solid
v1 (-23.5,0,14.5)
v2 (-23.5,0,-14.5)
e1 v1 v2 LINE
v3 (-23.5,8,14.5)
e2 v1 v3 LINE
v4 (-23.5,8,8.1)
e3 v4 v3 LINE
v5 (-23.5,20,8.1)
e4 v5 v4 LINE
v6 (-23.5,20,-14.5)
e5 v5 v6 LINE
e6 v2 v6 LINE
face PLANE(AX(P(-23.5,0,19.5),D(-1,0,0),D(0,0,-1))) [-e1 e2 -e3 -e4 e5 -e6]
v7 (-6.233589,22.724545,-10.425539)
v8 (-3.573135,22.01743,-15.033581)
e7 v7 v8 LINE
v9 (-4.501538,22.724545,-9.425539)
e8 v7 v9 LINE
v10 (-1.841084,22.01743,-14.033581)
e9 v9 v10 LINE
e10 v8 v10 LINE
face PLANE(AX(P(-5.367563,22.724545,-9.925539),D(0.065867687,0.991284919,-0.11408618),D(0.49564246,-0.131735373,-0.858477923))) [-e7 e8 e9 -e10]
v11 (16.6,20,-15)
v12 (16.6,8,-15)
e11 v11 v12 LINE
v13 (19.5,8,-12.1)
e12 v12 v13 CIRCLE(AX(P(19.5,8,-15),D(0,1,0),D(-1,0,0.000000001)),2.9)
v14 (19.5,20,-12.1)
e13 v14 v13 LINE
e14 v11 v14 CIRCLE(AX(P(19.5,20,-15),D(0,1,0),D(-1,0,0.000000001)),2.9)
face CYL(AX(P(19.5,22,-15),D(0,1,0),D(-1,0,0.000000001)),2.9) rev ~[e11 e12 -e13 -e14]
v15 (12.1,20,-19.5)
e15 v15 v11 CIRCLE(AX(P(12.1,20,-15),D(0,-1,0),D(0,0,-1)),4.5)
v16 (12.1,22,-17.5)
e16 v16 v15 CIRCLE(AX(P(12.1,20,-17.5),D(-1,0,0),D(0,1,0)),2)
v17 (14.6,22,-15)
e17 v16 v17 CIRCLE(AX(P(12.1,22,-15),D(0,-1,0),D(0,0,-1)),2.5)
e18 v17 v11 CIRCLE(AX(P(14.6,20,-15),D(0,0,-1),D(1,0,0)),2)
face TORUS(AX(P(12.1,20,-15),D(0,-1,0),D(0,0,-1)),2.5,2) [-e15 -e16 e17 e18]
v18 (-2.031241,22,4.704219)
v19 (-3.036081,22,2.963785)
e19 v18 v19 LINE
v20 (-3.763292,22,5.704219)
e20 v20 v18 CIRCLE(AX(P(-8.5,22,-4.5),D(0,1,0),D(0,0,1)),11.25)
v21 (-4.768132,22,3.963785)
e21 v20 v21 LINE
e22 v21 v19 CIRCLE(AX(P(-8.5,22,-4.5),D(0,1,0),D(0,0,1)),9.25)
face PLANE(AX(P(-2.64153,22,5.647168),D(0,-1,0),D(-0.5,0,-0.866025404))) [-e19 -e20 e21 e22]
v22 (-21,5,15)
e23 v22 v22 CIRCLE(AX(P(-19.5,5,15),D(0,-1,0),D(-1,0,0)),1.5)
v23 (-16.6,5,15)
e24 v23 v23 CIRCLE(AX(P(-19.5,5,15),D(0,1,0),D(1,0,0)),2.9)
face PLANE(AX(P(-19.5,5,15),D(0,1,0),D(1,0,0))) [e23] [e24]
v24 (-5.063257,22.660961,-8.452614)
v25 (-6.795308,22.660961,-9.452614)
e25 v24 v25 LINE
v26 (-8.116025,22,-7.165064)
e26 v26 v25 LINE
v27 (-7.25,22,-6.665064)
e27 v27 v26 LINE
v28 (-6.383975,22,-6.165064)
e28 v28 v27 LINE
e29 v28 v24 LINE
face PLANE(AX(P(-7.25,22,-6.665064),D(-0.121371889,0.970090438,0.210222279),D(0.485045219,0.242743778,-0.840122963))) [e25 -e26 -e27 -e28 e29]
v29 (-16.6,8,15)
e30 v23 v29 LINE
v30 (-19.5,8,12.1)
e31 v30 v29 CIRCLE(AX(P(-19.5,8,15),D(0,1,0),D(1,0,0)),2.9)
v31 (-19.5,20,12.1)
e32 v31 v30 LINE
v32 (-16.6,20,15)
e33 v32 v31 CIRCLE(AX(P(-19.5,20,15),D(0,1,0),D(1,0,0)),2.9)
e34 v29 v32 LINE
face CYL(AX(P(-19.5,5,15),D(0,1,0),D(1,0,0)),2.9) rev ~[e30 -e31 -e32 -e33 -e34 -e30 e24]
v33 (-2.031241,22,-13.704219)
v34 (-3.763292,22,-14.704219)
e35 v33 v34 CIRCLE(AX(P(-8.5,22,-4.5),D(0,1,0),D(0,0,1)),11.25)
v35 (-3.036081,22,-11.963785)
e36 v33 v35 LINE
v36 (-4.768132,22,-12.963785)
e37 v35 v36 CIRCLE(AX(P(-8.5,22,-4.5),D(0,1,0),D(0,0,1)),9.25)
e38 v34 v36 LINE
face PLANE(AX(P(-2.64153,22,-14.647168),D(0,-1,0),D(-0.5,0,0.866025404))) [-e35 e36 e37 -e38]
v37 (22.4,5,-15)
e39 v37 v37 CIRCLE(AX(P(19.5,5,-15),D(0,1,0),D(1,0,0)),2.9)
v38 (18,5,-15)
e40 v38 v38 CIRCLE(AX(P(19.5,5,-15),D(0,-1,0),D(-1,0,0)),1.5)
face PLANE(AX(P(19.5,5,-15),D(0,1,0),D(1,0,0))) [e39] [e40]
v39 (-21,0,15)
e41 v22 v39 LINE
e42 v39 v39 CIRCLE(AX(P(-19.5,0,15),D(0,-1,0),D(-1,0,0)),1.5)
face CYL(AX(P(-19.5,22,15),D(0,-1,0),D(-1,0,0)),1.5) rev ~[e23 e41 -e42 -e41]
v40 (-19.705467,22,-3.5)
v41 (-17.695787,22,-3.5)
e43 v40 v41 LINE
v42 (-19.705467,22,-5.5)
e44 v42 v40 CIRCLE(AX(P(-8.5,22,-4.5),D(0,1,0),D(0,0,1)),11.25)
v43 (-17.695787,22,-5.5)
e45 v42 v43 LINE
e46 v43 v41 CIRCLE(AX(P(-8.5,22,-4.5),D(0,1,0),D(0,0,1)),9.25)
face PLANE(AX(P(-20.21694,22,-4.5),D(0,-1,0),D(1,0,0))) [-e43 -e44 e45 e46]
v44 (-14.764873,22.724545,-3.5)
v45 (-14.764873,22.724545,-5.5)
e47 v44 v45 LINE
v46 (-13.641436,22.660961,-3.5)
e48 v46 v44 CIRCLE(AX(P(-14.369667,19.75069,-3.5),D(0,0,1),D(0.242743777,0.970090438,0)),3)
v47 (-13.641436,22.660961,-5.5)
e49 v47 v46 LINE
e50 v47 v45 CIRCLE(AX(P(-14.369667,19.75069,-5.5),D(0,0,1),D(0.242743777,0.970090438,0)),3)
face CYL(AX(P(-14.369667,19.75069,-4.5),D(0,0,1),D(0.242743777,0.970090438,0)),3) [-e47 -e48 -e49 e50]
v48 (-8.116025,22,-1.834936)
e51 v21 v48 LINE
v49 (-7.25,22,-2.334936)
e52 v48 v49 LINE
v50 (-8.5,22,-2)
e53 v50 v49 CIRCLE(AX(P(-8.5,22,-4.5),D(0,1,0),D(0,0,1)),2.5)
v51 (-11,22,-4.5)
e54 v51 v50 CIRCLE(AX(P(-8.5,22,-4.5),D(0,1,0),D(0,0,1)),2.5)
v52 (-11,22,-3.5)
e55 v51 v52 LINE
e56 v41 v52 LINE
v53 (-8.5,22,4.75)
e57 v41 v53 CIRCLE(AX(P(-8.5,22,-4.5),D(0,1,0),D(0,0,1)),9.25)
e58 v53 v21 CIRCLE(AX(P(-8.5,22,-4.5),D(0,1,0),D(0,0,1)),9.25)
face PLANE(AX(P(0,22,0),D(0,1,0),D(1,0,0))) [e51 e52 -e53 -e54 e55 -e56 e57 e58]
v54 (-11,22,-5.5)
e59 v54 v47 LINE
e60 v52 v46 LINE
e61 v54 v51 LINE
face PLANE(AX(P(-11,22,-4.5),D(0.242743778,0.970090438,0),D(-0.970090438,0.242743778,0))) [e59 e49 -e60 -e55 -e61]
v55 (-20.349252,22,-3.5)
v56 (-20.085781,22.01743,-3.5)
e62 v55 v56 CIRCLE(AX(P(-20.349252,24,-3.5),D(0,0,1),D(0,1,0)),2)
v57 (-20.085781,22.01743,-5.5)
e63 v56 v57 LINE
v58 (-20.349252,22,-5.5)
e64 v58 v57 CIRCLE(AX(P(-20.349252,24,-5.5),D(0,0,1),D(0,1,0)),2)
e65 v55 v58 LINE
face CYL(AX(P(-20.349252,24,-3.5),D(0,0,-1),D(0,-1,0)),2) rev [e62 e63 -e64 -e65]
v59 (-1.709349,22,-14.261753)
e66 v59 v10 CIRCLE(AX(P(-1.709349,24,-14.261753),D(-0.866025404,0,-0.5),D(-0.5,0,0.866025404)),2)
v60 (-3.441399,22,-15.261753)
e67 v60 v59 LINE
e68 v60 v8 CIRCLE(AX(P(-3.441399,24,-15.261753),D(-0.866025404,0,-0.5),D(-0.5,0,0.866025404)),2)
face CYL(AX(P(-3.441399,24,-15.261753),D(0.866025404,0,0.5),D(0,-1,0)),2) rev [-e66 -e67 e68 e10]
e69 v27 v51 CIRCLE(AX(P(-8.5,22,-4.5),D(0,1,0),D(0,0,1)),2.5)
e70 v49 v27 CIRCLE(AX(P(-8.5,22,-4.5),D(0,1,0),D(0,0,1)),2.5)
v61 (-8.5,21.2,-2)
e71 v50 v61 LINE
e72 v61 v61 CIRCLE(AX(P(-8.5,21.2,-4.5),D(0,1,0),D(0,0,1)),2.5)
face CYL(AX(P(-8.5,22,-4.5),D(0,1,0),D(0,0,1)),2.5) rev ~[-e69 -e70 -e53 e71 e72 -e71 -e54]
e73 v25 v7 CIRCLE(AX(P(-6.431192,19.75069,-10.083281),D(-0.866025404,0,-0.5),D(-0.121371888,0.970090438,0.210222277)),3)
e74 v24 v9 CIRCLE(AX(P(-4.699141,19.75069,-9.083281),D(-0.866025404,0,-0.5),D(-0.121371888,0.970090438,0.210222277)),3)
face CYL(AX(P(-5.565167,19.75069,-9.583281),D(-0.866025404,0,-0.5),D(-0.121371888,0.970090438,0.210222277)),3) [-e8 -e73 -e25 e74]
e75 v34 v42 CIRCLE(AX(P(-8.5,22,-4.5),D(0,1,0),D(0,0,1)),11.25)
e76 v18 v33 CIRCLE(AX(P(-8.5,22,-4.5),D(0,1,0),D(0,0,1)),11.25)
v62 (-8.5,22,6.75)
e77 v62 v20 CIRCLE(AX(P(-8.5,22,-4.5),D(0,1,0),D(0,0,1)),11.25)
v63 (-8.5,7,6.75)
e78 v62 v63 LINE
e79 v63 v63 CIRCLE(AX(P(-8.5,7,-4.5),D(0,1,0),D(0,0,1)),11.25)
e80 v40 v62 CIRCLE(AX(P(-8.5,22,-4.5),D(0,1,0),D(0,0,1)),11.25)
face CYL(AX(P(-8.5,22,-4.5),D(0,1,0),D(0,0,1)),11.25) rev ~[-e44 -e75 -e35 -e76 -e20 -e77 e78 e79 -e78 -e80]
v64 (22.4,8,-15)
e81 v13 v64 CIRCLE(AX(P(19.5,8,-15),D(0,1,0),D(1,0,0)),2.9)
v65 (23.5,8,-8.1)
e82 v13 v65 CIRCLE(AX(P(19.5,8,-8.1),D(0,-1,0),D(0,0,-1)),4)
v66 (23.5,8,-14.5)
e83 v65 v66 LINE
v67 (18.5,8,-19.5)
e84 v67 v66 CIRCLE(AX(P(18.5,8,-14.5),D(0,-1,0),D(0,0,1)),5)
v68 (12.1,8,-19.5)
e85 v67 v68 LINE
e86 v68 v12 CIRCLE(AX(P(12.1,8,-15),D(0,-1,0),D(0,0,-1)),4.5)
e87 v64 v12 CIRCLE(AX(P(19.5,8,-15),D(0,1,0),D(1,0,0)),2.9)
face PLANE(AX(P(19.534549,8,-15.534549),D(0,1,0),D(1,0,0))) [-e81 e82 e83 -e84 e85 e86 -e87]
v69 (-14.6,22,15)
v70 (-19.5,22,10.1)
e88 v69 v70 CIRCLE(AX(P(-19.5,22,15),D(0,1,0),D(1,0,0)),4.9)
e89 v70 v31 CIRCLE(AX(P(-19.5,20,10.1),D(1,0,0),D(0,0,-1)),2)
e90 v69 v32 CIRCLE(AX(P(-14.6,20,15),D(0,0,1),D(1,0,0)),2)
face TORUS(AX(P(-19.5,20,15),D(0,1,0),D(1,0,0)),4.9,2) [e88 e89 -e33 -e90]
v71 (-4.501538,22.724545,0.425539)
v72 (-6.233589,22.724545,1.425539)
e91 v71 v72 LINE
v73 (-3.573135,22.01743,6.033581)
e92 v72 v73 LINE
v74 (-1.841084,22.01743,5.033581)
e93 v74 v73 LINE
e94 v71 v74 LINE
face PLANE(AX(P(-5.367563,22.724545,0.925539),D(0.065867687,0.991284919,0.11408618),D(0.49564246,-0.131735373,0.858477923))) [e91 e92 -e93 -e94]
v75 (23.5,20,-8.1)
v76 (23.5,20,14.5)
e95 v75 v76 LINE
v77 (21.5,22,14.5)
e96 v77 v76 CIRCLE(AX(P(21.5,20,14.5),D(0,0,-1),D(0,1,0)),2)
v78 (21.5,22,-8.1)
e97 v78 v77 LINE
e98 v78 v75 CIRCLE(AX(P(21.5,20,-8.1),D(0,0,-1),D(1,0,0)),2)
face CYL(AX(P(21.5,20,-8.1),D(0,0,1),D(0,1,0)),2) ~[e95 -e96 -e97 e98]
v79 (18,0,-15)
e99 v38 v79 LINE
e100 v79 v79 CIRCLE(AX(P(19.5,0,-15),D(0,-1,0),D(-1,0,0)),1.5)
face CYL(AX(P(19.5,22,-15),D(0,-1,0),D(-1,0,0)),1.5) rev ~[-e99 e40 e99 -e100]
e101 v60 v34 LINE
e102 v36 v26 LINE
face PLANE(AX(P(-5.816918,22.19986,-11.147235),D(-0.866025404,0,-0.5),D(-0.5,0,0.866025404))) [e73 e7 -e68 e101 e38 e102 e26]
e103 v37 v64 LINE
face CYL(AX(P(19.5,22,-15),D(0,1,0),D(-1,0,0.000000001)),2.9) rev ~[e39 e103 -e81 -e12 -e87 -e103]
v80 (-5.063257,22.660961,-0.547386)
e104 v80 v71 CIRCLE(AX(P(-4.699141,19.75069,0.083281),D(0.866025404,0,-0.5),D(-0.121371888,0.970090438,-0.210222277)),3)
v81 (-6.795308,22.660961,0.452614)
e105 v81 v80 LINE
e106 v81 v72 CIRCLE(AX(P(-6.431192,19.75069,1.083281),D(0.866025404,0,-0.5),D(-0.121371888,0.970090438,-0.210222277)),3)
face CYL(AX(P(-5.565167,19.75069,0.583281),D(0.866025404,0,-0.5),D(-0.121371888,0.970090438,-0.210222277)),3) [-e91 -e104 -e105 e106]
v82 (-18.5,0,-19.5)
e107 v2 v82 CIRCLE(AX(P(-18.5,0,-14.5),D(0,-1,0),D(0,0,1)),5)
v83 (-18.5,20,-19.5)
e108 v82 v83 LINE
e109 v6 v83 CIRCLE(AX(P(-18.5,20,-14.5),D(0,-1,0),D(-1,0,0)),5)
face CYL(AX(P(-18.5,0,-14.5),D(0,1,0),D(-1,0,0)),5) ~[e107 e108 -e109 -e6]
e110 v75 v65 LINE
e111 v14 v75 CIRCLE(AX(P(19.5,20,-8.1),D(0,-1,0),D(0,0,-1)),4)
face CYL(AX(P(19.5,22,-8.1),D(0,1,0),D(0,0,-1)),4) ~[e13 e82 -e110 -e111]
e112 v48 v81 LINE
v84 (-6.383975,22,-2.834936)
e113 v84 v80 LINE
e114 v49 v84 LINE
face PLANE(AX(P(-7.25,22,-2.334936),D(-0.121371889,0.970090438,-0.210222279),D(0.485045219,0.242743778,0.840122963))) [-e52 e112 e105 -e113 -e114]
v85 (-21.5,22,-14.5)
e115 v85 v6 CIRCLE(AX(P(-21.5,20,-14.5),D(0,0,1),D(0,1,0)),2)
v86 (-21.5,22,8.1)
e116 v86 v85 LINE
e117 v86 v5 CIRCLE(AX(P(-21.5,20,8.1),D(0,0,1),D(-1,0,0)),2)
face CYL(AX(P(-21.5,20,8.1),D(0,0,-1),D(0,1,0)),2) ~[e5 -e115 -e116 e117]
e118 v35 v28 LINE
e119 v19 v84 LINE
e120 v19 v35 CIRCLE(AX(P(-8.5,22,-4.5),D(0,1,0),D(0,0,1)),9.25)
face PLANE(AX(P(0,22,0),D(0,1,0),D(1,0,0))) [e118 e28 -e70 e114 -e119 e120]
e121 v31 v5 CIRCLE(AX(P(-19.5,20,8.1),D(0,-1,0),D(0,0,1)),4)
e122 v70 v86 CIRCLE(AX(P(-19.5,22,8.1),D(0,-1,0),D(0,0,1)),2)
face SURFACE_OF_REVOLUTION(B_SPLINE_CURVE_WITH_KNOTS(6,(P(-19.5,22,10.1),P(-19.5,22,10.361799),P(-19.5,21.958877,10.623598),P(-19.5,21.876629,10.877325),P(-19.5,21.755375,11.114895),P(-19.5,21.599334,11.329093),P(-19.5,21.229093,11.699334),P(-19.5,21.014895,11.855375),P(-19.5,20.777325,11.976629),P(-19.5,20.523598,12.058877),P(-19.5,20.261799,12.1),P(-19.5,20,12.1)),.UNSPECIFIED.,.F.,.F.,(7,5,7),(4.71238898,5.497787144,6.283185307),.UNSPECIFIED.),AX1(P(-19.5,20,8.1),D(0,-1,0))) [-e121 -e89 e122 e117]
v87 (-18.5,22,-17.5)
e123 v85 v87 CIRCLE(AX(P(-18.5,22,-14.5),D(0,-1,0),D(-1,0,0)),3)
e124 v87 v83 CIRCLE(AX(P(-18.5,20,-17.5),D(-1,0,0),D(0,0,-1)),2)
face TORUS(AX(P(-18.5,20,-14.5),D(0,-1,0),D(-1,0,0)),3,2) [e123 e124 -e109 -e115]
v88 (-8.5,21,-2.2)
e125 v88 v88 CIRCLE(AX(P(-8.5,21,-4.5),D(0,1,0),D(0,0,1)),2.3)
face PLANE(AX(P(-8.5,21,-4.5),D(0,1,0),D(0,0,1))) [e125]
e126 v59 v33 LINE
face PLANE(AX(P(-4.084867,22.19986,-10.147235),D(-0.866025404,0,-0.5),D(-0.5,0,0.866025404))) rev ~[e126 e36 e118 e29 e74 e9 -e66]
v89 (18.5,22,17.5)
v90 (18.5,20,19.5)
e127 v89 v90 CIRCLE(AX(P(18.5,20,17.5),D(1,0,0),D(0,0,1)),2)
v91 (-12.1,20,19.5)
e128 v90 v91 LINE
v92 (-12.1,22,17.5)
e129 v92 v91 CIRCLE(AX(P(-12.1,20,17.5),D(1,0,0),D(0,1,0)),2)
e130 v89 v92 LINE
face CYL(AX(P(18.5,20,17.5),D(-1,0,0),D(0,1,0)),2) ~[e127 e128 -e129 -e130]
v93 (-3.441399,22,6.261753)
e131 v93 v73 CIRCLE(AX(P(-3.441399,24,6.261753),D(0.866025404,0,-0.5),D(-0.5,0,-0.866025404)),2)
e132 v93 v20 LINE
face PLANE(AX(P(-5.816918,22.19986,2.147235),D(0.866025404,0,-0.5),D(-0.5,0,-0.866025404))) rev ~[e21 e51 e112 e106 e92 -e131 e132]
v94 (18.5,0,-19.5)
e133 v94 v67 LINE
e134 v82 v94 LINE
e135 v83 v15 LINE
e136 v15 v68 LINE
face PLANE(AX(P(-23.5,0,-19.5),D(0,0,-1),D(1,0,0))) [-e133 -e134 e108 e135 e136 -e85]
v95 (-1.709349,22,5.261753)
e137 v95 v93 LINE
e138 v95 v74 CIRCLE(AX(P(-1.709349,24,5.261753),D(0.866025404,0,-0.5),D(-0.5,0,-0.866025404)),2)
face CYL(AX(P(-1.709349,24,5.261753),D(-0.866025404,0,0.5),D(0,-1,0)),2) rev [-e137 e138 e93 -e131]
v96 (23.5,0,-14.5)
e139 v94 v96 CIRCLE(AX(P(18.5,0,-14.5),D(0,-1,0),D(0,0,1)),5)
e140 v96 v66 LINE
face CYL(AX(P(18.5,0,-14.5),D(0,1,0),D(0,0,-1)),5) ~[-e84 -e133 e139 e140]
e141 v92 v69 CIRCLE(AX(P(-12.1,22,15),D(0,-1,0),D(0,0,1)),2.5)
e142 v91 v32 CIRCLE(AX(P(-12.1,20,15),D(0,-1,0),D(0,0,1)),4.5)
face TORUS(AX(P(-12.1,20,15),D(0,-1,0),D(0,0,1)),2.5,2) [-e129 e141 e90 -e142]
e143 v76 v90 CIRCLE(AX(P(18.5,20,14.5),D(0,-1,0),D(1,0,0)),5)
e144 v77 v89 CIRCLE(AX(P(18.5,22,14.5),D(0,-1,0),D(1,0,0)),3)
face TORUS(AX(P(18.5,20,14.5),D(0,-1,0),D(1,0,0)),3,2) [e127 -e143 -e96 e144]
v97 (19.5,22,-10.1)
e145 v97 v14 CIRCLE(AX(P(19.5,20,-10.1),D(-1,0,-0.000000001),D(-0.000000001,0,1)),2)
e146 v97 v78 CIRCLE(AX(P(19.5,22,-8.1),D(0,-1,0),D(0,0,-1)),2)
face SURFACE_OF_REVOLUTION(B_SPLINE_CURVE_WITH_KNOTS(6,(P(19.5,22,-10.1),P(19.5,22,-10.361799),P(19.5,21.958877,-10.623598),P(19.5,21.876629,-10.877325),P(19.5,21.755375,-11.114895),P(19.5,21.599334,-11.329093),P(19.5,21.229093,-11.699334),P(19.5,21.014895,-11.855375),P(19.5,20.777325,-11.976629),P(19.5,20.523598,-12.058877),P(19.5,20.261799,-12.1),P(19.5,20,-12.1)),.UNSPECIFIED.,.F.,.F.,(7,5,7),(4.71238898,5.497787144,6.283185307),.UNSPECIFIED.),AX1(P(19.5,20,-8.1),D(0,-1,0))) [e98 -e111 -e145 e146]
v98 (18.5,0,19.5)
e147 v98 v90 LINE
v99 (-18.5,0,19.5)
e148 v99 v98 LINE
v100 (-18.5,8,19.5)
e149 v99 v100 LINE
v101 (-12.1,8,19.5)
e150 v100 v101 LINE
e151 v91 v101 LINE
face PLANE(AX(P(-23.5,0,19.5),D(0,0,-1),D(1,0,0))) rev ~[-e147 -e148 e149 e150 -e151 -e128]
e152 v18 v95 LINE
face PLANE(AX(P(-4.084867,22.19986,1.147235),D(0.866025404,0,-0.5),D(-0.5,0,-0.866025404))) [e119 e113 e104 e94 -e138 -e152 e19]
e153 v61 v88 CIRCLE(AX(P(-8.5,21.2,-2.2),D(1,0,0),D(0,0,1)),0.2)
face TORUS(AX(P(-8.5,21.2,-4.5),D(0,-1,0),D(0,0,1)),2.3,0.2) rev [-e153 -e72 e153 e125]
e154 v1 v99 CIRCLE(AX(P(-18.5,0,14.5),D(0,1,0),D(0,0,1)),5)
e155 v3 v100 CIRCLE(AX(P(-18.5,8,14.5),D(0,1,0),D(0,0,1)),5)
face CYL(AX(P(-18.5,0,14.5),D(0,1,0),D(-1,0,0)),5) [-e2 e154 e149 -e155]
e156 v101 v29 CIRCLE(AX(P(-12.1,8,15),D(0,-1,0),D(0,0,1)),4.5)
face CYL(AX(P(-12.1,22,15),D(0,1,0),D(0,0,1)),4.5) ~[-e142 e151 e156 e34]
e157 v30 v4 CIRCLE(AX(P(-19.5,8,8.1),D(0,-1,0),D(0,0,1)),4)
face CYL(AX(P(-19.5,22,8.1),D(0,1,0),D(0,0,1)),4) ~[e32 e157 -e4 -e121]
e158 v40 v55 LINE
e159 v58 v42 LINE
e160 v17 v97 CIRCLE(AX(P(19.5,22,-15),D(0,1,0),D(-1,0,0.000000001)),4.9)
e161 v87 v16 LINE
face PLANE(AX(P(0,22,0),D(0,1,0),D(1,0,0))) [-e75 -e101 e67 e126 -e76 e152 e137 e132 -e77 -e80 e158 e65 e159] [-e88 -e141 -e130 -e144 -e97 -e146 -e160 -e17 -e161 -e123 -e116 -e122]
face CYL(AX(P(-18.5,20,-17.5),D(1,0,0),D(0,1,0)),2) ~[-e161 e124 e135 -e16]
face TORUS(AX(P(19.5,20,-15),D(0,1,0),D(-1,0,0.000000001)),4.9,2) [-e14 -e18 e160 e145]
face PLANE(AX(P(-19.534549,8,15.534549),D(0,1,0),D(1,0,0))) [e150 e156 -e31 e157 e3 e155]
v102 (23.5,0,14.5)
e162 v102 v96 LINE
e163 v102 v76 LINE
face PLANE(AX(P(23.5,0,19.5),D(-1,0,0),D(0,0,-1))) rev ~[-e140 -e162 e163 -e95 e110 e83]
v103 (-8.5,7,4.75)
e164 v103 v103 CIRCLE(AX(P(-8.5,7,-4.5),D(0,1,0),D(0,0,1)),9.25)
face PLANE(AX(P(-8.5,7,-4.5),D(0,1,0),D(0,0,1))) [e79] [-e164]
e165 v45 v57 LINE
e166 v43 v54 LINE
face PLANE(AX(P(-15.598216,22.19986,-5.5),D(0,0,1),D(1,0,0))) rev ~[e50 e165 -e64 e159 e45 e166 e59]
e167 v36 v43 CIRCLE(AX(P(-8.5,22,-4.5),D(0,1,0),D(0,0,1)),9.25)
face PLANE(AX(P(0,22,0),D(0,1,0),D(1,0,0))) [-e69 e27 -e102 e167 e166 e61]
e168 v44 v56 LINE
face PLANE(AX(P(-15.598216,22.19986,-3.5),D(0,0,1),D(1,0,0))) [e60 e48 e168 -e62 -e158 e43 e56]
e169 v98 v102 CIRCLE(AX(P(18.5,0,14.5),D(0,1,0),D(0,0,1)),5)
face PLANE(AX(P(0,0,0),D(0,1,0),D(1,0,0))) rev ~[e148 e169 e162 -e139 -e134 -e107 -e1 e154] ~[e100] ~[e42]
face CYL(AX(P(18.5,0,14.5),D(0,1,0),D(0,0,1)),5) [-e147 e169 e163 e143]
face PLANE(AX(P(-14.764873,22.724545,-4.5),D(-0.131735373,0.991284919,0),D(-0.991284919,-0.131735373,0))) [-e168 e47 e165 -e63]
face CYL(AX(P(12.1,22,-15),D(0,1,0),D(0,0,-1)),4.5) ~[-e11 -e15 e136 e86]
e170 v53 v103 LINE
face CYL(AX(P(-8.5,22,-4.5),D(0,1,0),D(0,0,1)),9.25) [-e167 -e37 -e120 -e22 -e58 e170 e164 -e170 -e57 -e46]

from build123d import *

# Parameters (mm, degrees)
ESQUISSE1_W                                        = 47
ESQUISSE1_H                                        = 39
BOSS_EXTRU_1_DEPTH                                 = 22
CHAMBRAGE_POUR_VIS_T_TE_RONDE_BOMB_E_M_D           = 3
CHAMBRAGE_POUR_VIS_T_TE_RONDE_BOMB_E_M_CBORE_D     = 5.8
CHAMBRAGE_POUR_VIS_T_TE_RONDE_BOMB_E_M_CBORE_DEPTH = 17
ENL_V_MAT_EXTRU_1_DEPTH                            = 14
CONG_1_R                                           = 5
CONG_2_R                                           = 2
ESQUISSE6_R                                        = 11.25
ESQUISSE6_R_2                                      = 9.25
ENL_V_MAT_EXTRU_2_DEPTH                            = 15
ESQUISSE8_R                                        = 2.5
ENL_V_MAT_EXTRU_3_DEPTH                            = 1
BOSS_EXTRU_5_DEPTH                                 = 1
R_P_TITION_CIRCULAIRE1_COUNT                       = 3
CONG_3_R                                           = 2
CONG_4_R                                           = 0.2


with BuildPart() as part:
    # Esquisse1 → Boss.-Extru.1 (new body)
    with BuildSketch(Plane(origin=(0, 0, 0), x_dir=(1, 0, 0), z_dir=(0, 1, 0))):
        Rectangle(ESQUISSE1_W, ESQUISSE1_H)
    extrude(amount=BOSS_EXTRU_1_DEPTH)

    # Chambrage pour vis à tête ronde bombée M31 (through all)
    with Locations(Plane(origin=(0, 22, 0), x_dir=(1, 0, 0), z_dir=(0, 1, 0))):
        with Locations((-19.5, -15), (19.5, 15)):
            CounterBoreHole(CHAMBRAGE_POUR_VIS_T_TE_RONDE_BOMB_E_M_D / 2, CHAMBRAGE_POUR_VIS_T_TE_RONDE_BOMB_E_M_CBORE_D / 2, CHAMBRAGE_POUR_VIS_T_TE_RONDE_BOMB_E_M_CBORE_DEPTH)

    # Esquisse5 → Enlèv. mat.-Extru.1 (cut)
    with BuildSketch(Plane(origin=(0, 22, 0), x_dir=(1, 0, 0), z_dir=(0, 1, 0))):
        with BuildLine():
            Line((-23.5, -8.1), (-23.5, -19.5))
            Line((-23.5, -19.5), (-12.1, -19.5))
            ThreePointArc((-12.1, -19.5), (-15.281980515, -18.181980515), (-16.6, -15))
            ThreePointArc((-16.6, -15), (-17.449390335, -12.949390335), (-19.5, -12.1))
            ThreePointArc((-19.5, -12.1), (-22.328427125, -10.928427125), (-23.5, -8.1))
        make_face()
        with BuildLine():
            Line((23.5, 8.1), (23.5, 19.5))
            Line((23.5, 19.5), (12.1, 19.5))
            ThreePointArc((12.1, 19.5), (15.281980515, 18.181980515), (16.6, 15))
            ThreePointArc((16.6, 15), (17.449390335, 12.949390335), (19.5, 12.1))
            ThreePointArc((19.5, 12.1), (22.328427125, 10.928427125), (23.5, 8.1))
        make_face()
    extrude(amount=-ENL_V_MAT_EXTRU_1_DEPTH, mode=Mode.SUBTRACT)

    # Congé1
    cong_1_edges = [part.edges().sort_by_distance(p)[0] for p in [
        (-23.5, 4, 19.5),
        (23.5, 4, -19.5),
        (23.5, 11, 19.5),
        (-23.5, 11, -19.5),
    ]]
    fillet(cong_1_edges, radius=CONG_1_R)

    # Congé2
    cong_2_edges = [part.edges().sort_by_distance(p)[0] for p in [
        (-17.449390335, 22, 12.949390335),
        (3.2, 22, 19.5),
        (-15.281980515, 22, 18.181980515),
        (-22.328427125, 22, 10.928427125),
        (17.449390335, 22, -12.949390335),
        (-3.2, 22, -19.5),
        (15.281980515, 22, -18.181980515),
        (22.328427125, 22, -10.928427125),
        (23.5, 22, 3.2),
        (-23.5, 22, -3.2),
        (-22.035533906, 22, -18.035533906),
        (22.035533906, 22, 18.035533906),
    ]]
    fillet(cong_2_edges, radius=CONG_2_R)

    # Esquisse6 → Enlèv. mat.-Extru.2 (cut)
    with BuildSketch(Plane(origin=(0, 22, 0), x_dir=(1, 0, 0), z_dir=(0, 1, 0))):
        with Locations(Location((-8.5, 4.5, 0), (0, 0, 270))):
            Circle(ESQUISSE6_R)
        with Locations(Location((-8.5, 4.5, 0), (0, 0, 270))):
            Circle(ESQUISSE6_R_2, mode=Mode.SUBTRACT)
    extrude(amount=-ENL_V_MAT_EXTRU_2_DEPTH, mode=Mode.SUBTRACT)

    # Esquisse8 → Enlèv. mat.-Extru.3 (cut)
    with BuildSketch(Plane(origin=(0, 22, 0), x_dir=(1, 0, 0), z_dir=(0, 1, 0))):
        with Locations(Location((-8.5, 4.5, 0), (0, 0, 270))):
            Circle(ESQUISSE8_R)
    extrude(amount=-ENL_V_MAT_EXTRU_3_DEPTH, mode=Mode.SUBTRACT)

    # Esquisse7 → Boss.-Extru.5 (add, symmetric)
    with BuildSketch(Plane.XY.offset(-4.5)):
        with BuildLine():
            Line((-20.21694009, 22), (-11, 22))
            Line((-11, 22), (-13.641435578, 22.66096111))
            ThreePointArc((-13.641435578, 22.66096111), (-14.200146525, 22.745896439), (-14.764873034, 22.724544554))
            Line((-14.764873034, 22.724544554), (-20.21694009, 22))
        make_face()
    boss_extru_5 = extrude(amount=BOSS_EXTRU_5_DEPTH, both=True)

    # Répétition circulaire1: Boss.-Extru.5 ×3 about axis
    r_p_tition_circulaire1_axis = Axis((-8.5, 0, -4.5), (0, 1, 0))
    for i in range(1, R_P_TITION_CIRCULAIRE1_COUNT):
        add(boss_extru_5.rotate(r_p_tition_circulaire1_axis, i * 360 / R_P_TITION_CIRCULAIRE1_COUNT))

    # Congé3
    cong_3_edges = [part.edges().sort_by_distance(p)[0] for p in [
        (-20.21694009, 22, -4.5),
        (-2.641529955, 22, 5.647167773),
        (-2.641529955, 22, -14.647167773),
    ]]
    fillet(cong_3_edges, radius=CONG_3_R)

    # Congé4
    cong_4_edges = [part.edges().sort_by_distance(p)[0] for p in [
        (-8.5, 21, -7),
    ]]
    fillet(cong_4_edges, radius=CONG_4_R)


solid = part.part
